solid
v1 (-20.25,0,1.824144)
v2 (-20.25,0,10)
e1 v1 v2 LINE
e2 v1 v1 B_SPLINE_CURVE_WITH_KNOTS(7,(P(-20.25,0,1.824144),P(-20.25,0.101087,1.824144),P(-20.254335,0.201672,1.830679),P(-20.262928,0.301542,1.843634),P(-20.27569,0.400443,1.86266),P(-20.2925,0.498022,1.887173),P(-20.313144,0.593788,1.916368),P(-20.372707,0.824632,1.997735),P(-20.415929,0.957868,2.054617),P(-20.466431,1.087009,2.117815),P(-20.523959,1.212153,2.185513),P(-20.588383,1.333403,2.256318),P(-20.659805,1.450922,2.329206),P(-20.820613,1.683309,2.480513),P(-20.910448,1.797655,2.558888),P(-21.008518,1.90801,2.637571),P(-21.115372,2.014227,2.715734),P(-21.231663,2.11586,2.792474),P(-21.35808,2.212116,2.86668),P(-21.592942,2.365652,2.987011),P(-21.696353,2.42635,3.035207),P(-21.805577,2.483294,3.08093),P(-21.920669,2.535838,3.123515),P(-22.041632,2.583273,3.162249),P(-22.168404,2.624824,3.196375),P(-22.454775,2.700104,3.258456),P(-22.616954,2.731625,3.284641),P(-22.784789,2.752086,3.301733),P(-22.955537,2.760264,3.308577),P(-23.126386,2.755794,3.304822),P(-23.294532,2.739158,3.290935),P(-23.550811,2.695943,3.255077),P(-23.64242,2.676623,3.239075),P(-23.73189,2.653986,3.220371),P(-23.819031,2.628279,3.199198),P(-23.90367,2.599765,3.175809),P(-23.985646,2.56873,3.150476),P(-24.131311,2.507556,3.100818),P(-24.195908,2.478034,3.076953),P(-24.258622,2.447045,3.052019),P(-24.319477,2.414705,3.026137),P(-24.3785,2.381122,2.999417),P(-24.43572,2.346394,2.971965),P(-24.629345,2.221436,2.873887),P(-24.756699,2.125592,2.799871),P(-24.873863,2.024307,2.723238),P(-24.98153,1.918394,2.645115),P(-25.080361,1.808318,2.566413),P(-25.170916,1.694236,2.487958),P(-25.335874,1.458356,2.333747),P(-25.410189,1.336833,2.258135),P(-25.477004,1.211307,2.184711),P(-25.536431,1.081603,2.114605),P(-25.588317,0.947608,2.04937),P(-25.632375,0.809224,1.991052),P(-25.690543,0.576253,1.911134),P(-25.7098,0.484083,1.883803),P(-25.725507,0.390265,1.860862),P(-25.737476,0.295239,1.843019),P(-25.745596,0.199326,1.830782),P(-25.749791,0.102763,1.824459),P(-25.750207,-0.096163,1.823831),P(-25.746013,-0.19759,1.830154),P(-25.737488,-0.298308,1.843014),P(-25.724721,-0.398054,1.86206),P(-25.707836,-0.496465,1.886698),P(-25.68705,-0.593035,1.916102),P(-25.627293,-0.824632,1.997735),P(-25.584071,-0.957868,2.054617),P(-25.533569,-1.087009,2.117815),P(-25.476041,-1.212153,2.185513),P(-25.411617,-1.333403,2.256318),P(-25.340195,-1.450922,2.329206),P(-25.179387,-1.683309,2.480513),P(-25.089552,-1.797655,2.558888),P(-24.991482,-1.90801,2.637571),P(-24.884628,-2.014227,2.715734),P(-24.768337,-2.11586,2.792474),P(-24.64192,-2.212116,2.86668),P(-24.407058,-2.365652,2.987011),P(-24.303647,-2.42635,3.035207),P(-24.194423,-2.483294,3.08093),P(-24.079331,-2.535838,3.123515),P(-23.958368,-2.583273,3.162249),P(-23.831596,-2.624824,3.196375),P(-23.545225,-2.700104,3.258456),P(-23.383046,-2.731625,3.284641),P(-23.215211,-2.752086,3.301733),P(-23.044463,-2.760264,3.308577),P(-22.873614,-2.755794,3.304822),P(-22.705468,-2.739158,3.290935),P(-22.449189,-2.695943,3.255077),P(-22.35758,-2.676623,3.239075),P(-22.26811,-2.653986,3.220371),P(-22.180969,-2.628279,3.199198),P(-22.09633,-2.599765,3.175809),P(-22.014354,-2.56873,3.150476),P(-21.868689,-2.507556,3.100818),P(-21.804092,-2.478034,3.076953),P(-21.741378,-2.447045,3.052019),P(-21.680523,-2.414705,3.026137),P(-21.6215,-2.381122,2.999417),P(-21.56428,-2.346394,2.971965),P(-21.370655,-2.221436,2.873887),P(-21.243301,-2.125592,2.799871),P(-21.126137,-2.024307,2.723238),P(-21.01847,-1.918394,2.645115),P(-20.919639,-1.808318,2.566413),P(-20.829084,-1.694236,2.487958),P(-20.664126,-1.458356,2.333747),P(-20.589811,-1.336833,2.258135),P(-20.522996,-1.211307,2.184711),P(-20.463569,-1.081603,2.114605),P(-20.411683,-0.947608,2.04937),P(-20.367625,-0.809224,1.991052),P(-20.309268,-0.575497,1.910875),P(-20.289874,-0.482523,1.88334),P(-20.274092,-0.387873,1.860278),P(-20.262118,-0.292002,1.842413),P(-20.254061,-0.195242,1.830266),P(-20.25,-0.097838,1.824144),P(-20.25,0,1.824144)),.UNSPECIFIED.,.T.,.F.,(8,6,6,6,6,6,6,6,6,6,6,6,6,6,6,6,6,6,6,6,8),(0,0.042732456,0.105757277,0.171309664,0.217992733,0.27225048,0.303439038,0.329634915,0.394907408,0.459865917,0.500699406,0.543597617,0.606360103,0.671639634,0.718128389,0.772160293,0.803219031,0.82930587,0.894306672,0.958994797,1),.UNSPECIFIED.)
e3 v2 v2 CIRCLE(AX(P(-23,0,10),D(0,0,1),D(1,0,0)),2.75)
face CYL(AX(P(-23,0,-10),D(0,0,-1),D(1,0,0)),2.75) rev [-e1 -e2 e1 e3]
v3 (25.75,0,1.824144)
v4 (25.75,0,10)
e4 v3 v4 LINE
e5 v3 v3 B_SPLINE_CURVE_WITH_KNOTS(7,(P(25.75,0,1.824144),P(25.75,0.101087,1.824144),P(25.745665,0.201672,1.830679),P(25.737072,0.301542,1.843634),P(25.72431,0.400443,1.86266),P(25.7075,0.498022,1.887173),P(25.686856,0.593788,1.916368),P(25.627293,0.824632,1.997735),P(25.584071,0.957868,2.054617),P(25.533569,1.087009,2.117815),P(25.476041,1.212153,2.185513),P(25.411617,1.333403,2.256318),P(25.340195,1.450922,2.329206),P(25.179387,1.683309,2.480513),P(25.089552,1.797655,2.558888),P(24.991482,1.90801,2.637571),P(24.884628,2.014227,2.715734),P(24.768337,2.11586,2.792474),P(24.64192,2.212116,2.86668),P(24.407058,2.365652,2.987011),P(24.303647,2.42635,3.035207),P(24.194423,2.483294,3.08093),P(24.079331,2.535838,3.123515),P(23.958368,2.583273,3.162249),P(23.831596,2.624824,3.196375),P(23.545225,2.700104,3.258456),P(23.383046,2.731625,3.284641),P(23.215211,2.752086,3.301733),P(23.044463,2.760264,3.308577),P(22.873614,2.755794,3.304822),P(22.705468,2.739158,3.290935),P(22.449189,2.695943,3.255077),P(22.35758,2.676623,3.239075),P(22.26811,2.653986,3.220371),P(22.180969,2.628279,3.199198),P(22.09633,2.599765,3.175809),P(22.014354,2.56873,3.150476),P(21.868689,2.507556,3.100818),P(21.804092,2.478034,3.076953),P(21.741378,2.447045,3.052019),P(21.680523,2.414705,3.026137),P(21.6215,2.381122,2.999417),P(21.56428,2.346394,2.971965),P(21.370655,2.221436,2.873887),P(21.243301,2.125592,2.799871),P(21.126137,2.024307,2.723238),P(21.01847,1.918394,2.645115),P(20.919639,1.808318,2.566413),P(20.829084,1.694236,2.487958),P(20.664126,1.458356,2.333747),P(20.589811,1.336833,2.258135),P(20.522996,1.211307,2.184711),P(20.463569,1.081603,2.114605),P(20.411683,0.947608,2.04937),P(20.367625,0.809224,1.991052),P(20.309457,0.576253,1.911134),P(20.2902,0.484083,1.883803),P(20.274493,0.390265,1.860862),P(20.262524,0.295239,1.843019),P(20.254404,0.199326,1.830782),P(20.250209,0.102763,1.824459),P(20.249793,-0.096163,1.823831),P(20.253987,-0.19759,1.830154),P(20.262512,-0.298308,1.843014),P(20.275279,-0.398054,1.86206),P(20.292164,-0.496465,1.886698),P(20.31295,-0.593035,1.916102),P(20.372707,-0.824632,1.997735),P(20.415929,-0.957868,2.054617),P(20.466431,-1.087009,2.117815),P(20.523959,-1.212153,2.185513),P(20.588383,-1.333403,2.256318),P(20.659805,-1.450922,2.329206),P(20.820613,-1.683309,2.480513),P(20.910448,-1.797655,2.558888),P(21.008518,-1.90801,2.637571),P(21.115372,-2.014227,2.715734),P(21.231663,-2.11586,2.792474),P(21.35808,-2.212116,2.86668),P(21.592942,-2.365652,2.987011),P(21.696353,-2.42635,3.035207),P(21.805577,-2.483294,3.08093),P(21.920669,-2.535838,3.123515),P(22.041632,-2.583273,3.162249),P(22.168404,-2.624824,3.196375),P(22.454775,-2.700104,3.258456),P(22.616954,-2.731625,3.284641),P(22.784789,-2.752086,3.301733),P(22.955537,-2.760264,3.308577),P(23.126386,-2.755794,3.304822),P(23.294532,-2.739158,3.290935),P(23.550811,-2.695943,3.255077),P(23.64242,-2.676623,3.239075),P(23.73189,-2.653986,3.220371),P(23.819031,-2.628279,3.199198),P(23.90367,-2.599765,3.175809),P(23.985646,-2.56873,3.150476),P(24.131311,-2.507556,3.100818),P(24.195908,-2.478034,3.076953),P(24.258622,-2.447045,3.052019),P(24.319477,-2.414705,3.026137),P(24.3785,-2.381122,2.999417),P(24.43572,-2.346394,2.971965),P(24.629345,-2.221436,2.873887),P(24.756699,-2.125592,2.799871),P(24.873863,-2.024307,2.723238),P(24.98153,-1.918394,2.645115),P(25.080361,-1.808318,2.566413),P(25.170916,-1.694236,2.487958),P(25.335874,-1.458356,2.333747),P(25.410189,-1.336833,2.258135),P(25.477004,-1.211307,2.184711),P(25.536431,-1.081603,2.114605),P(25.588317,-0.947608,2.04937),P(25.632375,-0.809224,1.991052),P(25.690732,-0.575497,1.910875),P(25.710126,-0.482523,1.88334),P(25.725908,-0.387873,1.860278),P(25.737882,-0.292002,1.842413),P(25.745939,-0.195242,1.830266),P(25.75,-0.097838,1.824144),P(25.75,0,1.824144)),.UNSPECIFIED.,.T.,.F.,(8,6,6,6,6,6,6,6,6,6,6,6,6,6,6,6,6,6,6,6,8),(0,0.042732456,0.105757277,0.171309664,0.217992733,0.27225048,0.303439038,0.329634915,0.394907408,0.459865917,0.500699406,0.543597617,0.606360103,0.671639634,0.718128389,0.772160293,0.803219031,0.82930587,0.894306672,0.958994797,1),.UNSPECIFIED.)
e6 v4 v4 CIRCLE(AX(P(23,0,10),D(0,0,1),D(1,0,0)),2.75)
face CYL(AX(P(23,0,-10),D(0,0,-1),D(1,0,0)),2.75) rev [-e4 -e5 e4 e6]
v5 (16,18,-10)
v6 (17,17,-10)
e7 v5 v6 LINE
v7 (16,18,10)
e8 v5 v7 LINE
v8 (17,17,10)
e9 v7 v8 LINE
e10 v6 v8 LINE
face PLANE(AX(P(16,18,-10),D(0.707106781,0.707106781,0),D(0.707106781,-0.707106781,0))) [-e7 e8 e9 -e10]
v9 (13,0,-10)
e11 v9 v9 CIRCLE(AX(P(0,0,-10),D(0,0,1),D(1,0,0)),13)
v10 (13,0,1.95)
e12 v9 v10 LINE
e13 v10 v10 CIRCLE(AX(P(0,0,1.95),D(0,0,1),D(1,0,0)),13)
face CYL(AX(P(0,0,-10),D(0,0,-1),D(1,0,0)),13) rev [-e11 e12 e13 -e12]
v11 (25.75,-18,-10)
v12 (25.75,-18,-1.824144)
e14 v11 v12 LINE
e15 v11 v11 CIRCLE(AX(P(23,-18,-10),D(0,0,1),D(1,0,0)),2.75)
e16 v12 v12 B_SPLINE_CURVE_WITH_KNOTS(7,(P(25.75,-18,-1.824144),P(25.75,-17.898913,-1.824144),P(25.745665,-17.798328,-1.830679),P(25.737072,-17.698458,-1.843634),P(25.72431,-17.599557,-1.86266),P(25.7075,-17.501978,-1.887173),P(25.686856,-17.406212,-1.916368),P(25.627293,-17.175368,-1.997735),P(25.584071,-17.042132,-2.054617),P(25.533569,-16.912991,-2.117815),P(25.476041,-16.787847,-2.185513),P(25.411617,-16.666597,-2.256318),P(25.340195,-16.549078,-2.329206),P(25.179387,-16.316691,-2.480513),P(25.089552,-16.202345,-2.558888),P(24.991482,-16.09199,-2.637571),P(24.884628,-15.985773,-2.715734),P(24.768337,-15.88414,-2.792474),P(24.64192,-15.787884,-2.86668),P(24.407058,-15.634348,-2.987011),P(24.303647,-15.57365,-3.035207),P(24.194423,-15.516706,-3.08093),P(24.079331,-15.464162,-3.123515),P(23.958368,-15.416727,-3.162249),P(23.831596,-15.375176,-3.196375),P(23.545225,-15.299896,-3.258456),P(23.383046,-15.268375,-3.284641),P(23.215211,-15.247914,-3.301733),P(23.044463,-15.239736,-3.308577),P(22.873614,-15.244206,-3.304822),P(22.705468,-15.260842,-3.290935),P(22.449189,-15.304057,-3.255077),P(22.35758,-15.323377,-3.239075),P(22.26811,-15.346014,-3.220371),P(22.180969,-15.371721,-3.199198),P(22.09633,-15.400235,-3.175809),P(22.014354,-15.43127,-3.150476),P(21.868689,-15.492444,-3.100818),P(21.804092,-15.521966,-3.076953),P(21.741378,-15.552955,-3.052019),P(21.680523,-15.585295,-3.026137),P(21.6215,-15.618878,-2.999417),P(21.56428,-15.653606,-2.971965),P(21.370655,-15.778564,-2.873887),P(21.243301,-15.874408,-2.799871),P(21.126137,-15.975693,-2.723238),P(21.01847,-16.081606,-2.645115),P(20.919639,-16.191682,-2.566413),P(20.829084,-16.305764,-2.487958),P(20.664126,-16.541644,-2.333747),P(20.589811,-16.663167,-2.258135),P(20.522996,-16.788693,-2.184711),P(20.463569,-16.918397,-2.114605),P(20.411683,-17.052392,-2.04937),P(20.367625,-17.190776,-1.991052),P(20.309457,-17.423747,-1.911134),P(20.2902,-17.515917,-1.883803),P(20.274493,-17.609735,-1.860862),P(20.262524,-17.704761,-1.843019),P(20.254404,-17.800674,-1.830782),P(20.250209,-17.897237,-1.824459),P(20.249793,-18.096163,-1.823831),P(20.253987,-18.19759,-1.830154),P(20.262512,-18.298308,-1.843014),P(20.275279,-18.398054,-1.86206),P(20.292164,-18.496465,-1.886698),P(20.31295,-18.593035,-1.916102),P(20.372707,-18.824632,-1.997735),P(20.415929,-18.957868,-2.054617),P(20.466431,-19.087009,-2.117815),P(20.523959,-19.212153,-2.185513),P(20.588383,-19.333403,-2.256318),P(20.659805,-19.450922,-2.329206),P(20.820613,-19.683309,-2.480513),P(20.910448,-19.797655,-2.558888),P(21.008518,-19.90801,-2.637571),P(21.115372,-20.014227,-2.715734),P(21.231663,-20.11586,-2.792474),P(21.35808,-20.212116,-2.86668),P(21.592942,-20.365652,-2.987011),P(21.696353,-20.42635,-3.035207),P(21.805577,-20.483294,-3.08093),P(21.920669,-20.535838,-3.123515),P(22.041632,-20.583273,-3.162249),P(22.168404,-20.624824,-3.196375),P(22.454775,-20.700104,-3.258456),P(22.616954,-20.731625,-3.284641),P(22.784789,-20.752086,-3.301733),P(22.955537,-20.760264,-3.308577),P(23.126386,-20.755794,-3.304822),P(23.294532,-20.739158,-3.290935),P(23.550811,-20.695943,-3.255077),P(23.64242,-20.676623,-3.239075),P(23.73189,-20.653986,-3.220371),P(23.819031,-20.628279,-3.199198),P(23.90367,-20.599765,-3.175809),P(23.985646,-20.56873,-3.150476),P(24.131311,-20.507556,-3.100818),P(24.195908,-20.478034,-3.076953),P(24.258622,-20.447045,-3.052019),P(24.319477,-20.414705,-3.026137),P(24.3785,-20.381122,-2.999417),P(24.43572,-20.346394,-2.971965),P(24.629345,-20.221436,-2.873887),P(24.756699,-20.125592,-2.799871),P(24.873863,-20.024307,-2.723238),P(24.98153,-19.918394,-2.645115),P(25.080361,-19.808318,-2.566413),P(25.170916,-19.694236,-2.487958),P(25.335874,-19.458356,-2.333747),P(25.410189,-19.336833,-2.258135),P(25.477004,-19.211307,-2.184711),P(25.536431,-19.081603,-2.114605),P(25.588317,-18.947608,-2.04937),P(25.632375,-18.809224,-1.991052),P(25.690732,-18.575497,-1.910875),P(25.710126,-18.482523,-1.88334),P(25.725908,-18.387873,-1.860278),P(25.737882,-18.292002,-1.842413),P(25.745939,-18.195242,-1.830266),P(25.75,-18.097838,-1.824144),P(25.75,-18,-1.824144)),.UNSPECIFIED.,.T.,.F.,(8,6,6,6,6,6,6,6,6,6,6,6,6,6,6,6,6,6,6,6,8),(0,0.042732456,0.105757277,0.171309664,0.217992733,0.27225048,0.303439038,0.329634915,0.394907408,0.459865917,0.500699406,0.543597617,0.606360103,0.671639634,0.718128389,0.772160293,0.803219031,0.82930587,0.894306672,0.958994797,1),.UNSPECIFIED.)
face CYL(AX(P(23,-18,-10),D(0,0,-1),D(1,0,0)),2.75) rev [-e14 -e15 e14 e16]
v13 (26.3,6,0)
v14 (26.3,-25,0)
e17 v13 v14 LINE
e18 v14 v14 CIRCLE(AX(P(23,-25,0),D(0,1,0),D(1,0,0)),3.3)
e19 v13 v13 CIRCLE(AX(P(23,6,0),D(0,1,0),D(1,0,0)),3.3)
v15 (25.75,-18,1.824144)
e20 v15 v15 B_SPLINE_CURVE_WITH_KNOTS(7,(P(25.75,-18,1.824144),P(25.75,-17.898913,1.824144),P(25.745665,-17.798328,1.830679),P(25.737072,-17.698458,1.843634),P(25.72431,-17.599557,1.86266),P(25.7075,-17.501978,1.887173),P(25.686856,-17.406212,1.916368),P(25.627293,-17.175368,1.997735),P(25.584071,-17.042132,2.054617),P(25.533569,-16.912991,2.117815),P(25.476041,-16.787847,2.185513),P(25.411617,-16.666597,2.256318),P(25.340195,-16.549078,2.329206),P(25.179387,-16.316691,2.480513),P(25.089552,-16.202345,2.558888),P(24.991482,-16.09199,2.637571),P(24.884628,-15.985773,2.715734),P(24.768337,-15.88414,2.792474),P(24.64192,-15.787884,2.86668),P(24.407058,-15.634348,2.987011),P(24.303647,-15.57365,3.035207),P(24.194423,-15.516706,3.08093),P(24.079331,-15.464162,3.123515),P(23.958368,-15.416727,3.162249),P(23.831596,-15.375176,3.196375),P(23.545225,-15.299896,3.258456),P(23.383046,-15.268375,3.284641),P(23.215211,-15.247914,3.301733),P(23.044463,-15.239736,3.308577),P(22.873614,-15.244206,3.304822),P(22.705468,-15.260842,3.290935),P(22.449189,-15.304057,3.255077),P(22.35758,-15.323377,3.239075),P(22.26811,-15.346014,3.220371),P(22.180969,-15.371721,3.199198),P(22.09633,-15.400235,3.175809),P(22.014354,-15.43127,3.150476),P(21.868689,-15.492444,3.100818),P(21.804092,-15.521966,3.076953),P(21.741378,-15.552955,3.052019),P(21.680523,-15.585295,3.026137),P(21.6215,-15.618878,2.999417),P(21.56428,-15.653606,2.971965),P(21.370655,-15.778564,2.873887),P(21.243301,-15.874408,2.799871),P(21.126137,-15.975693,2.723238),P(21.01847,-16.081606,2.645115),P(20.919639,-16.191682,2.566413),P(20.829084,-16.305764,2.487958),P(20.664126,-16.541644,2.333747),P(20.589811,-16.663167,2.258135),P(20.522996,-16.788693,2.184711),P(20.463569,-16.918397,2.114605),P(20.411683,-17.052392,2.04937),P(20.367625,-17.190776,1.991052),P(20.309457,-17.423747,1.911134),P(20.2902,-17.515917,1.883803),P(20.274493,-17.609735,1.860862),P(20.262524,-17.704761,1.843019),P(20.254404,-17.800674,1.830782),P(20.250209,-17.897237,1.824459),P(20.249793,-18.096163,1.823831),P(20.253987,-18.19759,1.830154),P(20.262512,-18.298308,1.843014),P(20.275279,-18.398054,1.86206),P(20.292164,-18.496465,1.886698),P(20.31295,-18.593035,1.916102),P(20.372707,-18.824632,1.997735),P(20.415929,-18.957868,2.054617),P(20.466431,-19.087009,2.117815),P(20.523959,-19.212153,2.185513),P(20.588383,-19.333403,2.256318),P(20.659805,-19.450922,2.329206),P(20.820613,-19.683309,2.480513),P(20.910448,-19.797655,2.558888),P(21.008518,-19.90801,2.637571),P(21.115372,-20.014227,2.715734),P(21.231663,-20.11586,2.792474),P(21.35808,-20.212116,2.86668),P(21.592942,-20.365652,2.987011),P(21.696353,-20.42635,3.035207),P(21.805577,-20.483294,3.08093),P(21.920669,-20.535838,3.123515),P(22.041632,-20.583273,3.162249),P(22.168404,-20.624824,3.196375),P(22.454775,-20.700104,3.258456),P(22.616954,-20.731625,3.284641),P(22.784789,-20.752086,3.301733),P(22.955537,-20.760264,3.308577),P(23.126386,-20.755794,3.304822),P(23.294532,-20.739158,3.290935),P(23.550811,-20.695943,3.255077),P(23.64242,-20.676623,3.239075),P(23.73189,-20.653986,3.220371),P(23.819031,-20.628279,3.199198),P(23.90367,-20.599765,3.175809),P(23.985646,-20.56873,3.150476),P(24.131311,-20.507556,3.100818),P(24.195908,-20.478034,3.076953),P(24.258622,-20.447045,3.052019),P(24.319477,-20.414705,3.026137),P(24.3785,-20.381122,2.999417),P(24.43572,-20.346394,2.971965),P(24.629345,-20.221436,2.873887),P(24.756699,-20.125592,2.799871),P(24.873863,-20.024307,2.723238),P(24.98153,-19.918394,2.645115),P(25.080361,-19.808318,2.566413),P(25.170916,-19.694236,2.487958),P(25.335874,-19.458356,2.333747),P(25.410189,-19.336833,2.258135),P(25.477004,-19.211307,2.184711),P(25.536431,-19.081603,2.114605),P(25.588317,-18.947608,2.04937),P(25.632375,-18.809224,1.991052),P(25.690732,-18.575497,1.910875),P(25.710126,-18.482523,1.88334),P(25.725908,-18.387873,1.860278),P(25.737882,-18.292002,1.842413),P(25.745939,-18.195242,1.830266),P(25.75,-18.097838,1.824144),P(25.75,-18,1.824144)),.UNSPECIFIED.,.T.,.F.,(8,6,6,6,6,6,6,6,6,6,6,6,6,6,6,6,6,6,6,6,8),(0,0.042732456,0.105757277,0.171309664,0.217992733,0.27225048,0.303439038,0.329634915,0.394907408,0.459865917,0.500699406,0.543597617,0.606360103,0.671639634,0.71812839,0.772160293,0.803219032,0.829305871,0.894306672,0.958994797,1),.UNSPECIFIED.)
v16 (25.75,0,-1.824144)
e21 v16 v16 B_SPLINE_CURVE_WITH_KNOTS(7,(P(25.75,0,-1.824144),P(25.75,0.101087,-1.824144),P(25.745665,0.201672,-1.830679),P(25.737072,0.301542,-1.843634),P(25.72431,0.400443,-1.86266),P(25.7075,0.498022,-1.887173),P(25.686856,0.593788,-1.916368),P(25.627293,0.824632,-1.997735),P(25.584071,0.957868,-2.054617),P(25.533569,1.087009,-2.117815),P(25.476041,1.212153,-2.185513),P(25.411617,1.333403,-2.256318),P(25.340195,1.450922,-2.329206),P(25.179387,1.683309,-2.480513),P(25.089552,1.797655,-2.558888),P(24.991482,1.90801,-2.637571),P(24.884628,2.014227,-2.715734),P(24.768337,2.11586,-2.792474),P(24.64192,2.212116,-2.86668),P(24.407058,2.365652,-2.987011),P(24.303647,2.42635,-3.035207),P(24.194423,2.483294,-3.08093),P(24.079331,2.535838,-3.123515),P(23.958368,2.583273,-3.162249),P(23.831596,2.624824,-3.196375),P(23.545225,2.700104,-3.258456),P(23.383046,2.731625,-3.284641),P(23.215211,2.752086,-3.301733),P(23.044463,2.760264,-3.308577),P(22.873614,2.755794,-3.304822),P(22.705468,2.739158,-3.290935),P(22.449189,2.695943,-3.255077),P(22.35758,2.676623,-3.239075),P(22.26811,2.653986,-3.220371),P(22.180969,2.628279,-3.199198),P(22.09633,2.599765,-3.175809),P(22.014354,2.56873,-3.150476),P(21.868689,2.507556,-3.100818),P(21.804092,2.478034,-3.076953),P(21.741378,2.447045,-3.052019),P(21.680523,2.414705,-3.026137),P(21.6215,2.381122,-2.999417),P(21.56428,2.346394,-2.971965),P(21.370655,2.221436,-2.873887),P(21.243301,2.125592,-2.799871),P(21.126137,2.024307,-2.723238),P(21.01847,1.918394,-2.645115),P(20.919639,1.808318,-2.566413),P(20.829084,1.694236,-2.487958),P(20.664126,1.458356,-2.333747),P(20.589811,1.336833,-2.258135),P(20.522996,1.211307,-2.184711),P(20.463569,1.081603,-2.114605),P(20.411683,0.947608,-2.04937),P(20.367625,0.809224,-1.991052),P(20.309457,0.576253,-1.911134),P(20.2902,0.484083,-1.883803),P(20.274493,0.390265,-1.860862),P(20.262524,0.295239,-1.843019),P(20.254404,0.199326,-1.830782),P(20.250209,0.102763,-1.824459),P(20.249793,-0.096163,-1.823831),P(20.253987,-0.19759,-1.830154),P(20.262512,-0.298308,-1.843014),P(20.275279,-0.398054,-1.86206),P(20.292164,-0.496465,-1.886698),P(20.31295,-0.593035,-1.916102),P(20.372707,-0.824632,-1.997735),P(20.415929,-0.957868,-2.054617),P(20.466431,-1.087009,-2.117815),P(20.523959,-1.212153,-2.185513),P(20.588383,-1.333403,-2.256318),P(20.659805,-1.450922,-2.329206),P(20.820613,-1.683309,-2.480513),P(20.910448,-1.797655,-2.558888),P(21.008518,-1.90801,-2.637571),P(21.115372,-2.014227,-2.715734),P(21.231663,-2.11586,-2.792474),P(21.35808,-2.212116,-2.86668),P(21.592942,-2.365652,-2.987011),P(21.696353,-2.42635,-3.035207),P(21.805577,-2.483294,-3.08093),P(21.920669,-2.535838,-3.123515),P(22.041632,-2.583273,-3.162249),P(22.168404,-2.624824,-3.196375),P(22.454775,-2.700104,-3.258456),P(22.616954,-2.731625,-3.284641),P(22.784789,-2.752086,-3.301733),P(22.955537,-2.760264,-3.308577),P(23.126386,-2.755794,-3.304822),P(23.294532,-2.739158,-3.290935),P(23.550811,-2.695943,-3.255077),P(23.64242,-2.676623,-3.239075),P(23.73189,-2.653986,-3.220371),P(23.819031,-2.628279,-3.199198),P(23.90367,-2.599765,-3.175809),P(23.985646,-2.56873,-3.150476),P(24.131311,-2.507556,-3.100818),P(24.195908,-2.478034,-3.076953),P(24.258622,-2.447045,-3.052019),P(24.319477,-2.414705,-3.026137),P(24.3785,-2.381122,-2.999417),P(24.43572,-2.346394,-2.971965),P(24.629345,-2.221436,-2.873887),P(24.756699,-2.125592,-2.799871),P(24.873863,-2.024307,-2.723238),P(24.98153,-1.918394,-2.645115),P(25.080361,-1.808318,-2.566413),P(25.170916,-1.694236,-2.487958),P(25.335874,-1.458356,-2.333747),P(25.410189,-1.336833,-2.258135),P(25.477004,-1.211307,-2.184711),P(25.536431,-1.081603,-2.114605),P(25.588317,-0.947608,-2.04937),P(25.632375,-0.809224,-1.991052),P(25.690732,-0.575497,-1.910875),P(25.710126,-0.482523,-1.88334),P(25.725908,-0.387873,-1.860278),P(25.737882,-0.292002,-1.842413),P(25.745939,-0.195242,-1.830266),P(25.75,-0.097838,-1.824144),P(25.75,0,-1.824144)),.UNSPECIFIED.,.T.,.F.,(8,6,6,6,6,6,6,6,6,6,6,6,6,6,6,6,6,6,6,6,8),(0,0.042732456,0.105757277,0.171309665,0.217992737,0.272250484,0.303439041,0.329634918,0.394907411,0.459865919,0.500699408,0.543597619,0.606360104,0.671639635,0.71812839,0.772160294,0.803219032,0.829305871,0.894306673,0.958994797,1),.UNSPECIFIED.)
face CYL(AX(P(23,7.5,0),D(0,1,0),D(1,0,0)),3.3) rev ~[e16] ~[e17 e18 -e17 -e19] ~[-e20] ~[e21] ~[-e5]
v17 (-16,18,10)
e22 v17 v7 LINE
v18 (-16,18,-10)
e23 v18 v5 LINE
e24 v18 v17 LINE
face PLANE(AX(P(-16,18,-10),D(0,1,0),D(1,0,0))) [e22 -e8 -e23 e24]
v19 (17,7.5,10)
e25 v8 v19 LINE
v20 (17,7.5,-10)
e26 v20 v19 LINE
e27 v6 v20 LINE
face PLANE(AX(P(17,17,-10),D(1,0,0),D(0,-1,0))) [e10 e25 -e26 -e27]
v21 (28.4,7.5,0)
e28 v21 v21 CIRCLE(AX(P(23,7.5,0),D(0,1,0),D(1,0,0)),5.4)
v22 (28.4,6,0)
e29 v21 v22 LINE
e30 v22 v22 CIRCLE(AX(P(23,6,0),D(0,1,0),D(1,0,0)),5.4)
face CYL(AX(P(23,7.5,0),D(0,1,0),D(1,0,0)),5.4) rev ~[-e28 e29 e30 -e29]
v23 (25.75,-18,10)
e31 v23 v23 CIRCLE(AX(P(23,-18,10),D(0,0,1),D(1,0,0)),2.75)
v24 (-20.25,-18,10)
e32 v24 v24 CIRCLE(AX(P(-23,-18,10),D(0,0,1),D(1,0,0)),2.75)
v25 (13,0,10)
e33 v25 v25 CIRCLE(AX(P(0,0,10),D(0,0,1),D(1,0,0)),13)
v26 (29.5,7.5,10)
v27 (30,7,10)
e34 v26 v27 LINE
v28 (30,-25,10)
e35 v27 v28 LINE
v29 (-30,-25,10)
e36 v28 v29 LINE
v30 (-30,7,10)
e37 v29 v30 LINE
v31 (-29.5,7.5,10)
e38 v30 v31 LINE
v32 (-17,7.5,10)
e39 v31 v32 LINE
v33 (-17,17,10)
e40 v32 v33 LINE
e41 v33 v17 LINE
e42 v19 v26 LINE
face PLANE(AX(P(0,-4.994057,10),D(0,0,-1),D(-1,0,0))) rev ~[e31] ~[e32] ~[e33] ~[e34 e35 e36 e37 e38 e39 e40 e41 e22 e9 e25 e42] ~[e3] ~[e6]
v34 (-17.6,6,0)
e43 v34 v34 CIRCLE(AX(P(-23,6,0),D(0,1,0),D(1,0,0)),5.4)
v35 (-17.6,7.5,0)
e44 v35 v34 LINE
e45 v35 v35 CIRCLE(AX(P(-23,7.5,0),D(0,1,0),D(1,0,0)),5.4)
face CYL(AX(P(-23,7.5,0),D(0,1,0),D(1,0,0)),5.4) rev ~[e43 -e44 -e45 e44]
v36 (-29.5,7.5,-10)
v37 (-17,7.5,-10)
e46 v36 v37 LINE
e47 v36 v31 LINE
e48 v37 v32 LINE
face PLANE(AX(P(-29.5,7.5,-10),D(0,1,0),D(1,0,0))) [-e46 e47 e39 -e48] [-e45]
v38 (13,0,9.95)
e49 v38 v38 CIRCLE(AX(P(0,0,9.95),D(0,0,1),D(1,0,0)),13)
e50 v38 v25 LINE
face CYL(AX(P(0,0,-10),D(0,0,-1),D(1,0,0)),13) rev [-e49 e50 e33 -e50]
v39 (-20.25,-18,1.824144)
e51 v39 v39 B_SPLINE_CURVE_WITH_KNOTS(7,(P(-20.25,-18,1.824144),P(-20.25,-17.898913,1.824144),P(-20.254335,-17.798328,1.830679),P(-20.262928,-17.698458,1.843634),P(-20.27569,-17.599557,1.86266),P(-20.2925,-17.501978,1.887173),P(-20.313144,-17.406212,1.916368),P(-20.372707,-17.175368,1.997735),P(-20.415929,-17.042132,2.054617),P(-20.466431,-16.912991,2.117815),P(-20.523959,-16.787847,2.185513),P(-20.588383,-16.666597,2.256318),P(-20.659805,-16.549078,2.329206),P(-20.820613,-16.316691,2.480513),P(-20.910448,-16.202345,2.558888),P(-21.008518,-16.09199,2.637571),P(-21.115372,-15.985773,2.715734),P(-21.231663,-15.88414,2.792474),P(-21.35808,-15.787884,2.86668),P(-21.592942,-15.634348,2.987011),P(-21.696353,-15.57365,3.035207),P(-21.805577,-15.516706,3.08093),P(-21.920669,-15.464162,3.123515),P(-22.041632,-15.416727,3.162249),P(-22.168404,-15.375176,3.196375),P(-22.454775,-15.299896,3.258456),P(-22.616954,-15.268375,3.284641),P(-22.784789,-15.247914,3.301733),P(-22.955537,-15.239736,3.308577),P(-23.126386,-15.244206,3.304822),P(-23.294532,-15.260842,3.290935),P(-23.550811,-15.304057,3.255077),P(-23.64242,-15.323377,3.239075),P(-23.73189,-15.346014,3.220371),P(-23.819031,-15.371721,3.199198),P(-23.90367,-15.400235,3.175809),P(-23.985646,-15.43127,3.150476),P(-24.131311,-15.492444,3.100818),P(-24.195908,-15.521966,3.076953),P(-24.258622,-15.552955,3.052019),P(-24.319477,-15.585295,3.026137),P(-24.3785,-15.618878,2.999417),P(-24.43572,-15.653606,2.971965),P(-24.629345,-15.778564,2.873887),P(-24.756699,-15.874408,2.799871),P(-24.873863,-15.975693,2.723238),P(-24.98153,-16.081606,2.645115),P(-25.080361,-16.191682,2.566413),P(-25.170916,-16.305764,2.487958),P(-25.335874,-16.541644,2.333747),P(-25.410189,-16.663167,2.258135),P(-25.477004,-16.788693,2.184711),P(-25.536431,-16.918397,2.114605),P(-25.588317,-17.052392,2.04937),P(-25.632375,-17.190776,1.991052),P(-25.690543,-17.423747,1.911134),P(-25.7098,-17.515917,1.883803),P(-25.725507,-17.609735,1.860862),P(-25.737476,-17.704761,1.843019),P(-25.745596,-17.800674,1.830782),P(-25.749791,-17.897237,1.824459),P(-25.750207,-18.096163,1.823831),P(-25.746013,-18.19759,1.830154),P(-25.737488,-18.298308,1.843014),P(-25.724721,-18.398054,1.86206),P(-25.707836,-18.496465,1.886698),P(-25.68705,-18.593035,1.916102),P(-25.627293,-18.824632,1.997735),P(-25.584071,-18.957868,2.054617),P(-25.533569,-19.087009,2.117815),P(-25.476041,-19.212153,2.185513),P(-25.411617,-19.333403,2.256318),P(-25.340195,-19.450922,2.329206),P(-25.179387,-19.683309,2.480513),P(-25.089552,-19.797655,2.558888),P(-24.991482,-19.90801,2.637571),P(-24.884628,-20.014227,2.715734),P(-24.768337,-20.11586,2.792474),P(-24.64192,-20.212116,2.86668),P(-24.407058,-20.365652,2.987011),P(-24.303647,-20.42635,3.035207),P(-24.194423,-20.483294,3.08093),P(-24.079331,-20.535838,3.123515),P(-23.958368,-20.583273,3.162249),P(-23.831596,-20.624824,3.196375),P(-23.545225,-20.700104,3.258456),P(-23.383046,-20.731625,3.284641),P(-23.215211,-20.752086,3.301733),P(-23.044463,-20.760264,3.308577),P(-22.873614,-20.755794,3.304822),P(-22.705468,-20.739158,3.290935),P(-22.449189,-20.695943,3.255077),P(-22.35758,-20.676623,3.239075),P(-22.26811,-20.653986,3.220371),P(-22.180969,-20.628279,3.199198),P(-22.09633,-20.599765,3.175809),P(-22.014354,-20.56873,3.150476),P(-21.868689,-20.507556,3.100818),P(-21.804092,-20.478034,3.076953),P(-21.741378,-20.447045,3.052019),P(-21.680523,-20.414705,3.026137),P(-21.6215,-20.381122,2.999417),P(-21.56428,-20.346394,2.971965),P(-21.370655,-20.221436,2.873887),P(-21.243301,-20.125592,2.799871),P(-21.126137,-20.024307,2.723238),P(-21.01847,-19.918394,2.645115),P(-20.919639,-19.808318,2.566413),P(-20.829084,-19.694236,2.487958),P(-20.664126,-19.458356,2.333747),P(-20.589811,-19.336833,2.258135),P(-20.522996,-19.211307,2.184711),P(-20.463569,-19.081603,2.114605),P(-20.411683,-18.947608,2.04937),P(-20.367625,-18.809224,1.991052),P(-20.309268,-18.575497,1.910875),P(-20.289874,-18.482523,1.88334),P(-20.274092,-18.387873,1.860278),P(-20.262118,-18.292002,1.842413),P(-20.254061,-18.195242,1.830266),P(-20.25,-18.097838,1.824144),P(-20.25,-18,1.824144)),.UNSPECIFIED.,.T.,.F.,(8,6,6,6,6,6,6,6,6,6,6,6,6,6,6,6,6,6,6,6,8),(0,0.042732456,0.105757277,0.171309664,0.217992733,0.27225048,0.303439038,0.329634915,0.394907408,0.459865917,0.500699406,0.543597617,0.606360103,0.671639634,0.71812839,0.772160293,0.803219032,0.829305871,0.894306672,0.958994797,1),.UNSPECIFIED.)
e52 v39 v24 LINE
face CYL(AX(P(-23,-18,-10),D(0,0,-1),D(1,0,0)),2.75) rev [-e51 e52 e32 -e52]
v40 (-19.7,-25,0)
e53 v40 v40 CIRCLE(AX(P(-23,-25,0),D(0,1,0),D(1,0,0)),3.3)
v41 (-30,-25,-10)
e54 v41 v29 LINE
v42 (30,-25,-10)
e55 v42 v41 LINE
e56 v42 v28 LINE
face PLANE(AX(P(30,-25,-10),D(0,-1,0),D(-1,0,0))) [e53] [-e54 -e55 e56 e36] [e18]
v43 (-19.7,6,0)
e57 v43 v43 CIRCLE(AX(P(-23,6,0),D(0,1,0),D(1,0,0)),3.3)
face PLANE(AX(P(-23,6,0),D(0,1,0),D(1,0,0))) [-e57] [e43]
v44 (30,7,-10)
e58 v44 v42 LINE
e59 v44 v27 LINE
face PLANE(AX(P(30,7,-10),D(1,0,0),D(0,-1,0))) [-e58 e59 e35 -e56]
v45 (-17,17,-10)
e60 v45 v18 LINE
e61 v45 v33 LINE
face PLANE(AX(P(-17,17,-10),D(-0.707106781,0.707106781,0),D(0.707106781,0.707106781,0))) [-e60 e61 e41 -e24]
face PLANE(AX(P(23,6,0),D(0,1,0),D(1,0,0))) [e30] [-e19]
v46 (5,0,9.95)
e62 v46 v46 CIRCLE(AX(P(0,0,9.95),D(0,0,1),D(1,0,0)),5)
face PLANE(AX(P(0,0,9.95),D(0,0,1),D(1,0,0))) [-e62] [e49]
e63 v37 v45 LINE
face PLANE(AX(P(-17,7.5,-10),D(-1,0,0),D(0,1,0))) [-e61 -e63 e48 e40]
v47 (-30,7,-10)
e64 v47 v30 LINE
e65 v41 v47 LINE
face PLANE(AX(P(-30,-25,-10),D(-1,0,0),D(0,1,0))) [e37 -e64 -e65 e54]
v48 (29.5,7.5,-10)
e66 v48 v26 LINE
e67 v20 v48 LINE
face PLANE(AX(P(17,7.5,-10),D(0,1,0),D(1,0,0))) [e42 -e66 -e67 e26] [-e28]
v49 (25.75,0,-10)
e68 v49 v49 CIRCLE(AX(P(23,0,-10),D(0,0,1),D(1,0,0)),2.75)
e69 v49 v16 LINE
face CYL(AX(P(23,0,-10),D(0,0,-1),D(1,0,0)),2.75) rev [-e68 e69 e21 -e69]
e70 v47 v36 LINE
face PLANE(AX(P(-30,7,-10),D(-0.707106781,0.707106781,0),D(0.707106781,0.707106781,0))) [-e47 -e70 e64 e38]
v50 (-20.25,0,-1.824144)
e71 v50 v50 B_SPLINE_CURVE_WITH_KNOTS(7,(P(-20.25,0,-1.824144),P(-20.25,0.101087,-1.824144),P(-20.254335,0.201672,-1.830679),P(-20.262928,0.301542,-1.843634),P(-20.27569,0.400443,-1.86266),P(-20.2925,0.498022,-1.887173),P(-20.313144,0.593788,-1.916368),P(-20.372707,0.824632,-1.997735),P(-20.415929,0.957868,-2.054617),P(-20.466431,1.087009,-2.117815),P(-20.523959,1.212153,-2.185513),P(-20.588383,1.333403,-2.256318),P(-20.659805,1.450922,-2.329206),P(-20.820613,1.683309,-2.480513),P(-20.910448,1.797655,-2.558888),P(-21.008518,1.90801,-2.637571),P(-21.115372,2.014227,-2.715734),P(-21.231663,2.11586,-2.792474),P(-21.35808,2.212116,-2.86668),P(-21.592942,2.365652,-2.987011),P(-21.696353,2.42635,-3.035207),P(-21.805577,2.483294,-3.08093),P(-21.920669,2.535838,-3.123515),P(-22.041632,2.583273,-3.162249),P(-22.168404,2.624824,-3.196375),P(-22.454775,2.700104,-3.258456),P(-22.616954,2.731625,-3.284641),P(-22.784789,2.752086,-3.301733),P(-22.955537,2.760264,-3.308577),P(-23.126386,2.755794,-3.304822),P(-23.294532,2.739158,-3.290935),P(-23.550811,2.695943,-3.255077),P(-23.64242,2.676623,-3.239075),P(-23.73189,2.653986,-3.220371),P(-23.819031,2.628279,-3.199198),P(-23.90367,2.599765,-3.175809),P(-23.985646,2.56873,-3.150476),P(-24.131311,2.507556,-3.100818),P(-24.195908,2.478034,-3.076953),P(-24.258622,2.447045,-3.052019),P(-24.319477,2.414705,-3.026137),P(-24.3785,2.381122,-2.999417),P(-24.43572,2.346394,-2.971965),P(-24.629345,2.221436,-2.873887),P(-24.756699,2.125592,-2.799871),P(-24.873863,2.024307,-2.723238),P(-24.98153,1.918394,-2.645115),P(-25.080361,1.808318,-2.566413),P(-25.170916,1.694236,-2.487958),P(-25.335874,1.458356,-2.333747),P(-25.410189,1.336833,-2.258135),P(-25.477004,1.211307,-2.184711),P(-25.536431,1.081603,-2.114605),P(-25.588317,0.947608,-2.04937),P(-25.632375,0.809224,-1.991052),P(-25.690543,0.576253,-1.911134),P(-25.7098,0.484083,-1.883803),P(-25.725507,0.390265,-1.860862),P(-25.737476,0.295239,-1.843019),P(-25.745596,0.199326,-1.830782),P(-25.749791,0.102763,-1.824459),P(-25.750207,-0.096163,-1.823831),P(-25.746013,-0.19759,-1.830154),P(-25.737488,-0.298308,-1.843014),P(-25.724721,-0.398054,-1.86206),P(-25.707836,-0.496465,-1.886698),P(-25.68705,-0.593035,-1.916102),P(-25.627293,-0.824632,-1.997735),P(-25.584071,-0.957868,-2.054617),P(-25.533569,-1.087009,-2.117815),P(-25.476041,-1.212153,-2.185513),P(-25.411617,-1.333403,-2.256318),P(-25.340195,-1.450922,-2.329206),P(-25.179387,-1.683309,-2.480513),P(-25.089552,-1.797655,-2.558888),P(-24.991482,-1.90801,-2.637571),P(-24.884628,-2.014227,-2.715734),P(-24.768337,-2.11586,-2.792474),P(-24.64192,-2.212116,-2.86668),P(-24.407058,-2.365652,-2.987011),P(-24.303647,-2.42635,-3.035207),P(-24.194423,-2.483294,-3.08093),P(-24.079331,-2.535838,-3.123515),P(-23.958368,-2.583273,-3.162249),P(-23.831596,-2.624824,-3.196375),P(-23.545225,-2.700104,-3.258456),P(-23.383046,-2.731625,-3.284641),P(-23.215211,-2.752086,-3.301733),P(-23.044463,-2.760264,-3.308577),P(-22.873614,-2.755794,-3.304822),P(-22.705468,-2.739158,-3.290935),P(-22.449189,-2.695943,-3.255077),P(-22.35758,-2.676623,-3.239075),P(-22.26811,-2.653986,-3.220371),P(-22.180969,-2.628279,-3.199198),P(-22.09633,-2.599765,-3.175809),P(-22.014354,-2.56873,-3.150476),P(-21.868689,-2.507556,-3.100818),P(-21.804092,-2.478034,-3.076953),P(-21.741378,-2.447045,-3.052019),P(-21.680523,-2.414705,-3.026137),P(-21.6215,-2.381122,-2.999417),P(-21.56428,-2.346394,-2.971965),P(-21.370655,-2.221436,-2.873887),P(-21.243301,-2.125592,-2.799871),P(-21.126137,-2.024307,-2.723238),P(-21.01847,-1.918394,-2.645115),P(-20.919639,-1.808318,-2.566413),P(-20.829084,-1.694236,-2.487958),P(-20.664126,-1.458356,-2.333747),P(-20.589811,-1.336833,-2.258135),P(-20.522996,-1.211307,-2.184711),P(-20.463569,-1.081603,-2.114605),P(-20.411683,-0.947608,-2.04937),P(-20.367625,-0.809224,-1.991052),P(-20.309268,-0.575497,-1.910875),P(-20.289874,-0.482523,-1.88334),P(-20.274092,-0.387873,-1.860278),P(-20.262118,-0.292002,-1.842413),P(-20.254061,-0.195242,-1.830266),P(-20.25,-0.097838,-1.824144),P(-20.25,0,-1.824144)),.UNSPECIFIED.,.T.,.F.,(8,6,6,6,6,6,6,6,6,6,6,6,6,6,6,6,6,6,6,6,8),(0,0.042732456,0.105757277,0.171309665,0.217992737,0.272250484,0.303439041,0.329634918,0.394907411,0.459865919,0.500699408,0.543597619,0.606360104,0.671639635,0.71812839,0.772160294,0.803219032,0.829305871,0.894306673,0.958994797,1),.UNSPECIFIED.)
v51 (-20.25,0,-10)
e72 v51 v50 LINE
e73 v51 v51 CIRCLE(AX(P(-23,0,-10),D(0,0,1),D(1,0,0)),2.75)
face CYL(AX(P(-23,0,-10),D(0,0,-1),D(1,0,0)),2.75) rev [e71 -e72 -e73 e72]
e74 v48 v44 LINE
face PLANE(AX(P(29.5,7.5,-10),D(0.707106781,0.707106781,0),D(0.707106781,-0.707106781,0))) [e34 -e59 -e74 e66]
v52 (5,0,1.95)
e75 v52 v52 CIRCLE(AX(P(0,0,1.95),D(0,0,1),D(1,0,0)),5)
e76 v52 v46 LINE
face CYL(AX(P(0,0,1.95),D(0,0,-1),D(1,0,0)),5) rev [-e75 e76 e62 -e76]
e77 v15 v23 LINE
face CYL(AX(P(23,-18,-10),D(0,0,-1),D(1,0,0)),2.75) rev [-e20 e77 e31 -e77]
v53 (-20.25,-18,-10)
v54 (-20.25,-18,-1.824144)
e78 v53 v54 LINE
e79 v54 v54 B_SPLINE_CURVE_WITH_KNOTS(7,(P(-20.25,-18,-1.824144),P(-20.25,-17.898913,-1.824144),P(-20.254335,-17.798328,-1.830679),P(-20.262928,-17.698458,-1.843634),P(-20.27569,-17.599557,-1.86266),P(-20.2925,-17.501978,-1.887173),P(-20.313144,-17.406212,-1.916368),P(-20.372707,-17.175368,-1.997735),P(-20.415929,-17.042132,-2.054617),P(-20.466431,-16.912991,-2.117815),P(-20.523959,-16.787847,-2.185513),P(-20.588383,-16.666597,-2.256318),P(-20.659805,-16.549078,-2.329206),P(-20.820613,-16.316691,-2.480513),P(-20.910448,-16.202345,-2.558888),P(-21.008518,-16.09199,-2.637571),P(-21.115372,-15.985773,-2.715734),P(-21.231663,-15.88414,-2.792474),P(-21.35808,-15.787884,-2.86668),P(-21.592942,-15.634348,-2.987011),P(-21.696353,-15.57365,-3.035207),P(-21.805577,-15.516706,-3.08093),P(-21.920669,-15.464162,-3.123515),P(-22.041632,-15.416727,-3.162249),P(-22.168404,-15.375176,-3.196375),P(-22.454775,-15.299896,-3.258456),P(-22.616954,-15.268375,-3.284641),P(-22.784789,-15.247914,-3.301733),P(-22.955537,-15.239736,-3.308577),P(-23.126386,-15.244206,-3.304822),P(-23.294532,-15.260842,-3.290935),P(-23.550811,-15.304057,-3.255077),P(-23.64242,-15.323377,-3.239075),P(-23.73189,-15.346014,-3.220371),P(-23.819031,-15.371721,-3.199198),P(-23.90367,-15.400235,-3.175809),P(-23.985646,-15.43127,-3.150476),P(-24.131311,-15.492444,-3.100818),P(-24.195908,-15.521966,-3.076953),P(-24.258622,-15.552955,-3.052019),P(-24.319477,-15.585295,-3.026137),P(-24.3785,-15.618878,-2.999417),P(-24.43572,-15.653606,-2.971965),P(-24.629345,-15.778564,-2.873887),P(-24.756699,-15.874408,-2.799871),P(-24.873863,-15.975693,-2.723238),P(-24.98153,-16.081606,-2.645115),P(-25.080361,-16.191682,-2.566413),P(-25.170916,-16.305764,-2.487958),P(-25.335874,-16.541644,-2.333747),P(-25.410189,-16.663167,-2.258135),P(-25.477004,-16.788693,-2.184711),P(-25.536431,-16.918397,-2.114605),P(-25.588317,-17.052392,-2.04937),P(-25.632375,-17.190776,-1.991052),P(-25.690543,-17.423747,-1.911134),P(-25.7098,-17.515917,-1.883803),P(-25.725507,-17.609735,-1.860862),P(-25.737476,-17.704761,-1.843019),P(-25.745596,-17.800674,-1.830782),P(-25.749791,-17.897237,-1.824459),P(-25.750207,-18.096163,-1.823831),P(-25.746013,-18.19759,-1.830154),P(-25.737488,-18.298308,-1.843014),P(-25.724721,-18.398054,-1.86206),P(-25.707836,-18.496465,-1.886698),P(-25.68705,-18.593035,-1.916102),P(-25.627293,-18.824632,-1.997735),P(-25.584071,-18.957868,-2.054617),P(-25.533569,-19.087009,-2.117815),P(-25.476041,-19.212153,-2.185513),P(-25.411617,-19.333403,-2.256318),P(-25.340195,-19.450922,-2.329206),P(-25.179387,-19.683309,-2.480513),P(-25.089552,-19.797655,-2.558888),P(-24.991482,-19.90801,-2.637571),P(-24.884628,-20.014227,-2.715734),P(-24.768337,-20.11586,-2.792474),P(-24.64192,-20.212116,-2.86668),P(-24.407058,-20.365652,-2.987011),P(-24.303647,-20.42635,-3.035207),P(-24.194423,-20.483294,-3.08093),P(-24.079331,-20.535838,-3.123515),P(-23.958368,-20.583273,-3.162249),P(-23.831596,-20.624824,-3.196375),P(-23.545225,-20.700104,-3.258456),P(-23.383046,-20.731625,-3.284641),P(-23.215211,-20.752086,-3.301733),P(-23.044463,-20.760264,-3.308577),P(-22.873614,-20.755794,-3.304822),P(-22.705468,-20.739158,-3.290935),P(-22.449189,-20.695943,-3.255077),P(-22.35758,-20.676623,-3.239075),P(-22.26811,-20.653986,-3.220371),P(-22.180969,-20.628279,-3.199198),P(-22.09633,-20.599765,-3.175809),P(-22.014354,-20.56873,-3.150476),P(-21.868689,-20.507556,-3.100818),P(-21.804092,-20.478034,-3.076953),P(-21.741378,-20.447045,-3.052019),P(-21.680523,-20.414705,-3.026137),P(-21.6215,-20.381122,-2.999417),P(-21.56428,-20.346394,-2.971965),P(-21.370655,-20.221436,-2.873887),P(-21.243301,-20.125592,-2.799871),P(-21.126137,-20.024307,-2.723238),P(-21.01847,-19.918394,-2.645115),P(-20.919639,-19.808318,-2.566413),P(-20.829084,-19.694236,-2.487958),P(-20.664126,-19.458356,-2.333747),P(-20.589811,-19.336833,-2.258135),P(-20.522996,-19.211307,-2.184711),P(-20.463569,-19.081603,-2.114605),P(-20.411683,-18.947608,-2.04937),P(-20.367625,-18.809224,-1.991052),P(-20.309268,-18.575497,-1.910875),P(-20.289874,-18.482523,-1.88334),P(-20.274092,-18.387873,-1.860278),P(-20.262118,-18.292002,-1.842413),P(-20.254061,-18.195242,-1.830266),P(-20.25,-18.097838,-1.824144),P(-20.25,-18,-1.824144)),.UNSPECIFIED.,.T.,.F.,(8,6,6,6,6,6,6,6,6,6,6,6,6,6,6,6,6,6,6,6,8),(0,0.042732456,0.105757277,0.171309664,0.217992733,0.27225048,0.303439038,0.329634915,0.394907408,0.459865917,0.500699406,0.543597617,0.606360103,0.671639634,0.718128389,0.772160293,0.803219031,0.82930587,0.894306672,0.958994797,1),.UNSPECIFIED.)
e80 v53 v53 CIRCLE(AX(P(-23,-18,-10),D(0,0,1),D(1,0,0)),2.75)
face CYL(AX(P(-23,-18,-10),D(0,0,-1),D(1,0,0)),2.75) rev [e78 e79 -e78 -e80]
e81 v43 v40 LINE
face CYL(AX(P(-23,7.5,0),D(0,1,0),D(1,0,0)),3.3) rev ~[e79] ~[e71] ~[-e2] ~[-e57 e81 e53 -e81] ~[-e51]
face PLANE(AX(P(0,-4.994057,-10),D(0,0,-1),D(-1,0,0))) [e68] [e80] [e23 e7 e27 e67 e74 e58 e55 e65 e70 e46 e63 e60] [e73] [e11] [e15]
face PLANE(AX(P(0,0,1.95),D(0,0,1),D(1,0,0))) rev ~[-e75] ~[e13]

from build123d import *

# Parameters (mm, degrees)
EXTRUDE_1_DEPTH      = 10
EXTRUDE_1_DEPTH_BACK = 10
SKETCH_1_R           = 2.75
SKETCH_1_R_2         = 13
CUT_EXTRUDE_START    = 7.5
SKETCH_2_R           = 3.3
CUT_EXTRUDE_1_DEPTH  = 48.811288741
SKETCH_3_R           = 5.4
CUT_EXTRUDE_2_DEPTH  = 1.5
EXTRUDE_2_DEPTH      = 4
EXTRUDE_2_DEPTH_BACK = 4
EXTRUDE_2_START      = 5.95
SKETCH_4_R           = 13
SKETCH_4_R_2         = 5


with BuildPart() as part:
    # Эскиз1 → Бобышка-Вытянуть1 (new, two sides: drawn at the far end of the back side and taken through both)
    with BuildSketch(Plane.XY.offset(-EXTRUDE_1_DEPTH_BACK)):
        Polygon((-30, -25), (-30, 7), (-29.5, 7.5), (-17, 7.5), (-17, 17), (-16, 18), (16, 18), (17, 17), (17, 7.5), (29.5, 7.5), (30, 7), (30, -25), align=None)
        with Locations((-23, 0)):
            Circle(SKETCH_1_R, mode=Mode.SUBTRACT)
        with Locations((-23, -18)):
            Circle(SKETCH_1_R, mode=Mode.SUBTRACT)
        with Locations((23, -18)):
            Circle(SKETCH_1_R, mode=Mode.SUBTRACT)
        with Locations((23, 0)):
            Circle(SKETCH_1_R, mode=Mode.SUBTRACT)
        Circle(SKETCH_1_R_2, mode=Mode.SUBTRACT)
    extrude(amount=EXTRUDE_1_DEPTH + EXTRUDE_1_DEPTH_BACK)

    # Эскиз2 → Вырез-Вытянуть1 (cut, through all)
    with BuildSketch(Plane(origin=(0, 0, 0), x_dir=(1, 0, 0), z_dir=(0, 1, 0)).offset(CUT_EXTRUDE_START)):
        with Locations((-23, 0)):
            Circle(SKETCH_2_R)
        with Locations((23, 0)):
            Circle(SKETCH_2_R)
    extrude(amount=-CUT_EXTRUDE_1_DEPTH, mode=Mode.SUBTRACT)

    # Эскиз3 → Вырез-Вытянуть2 (cut)
    with BuildSketch(Plane(origin=(0, 0, 0), x_dir=(1, 0, 0), z_dir=(0, 1, 0)).offset(CUT_EXTRUDE_START)):
        with Locations((-23, 0)):
            Circle(SKETCH_3_R)
        with Locations((23, 0)):
            Circle(SKETCH_3_R)
    extrude(amount=-CUT_EXTRUDE_2_DEPTH, mode=Mode.SUBTRACT)

    # Эскиз4 → Бобышка-Вытянуть2 (add, two sides: drawn at the far end of the back side and taken through both)
    with BuildSketch(Plane.XY.offset(EXTRUDE_2_START - EXTRUDE_2_DEPTH_BACK)):
        Circle(SKETCH_4_R)
        Circle(SKETCH_4_R_2, mode=Mode.SUBTRACT)
    extrude(amount=EXTRUDE_2_DEPTH + EXTRUDE_2_DEPTH_BACK)


solid = part.part
